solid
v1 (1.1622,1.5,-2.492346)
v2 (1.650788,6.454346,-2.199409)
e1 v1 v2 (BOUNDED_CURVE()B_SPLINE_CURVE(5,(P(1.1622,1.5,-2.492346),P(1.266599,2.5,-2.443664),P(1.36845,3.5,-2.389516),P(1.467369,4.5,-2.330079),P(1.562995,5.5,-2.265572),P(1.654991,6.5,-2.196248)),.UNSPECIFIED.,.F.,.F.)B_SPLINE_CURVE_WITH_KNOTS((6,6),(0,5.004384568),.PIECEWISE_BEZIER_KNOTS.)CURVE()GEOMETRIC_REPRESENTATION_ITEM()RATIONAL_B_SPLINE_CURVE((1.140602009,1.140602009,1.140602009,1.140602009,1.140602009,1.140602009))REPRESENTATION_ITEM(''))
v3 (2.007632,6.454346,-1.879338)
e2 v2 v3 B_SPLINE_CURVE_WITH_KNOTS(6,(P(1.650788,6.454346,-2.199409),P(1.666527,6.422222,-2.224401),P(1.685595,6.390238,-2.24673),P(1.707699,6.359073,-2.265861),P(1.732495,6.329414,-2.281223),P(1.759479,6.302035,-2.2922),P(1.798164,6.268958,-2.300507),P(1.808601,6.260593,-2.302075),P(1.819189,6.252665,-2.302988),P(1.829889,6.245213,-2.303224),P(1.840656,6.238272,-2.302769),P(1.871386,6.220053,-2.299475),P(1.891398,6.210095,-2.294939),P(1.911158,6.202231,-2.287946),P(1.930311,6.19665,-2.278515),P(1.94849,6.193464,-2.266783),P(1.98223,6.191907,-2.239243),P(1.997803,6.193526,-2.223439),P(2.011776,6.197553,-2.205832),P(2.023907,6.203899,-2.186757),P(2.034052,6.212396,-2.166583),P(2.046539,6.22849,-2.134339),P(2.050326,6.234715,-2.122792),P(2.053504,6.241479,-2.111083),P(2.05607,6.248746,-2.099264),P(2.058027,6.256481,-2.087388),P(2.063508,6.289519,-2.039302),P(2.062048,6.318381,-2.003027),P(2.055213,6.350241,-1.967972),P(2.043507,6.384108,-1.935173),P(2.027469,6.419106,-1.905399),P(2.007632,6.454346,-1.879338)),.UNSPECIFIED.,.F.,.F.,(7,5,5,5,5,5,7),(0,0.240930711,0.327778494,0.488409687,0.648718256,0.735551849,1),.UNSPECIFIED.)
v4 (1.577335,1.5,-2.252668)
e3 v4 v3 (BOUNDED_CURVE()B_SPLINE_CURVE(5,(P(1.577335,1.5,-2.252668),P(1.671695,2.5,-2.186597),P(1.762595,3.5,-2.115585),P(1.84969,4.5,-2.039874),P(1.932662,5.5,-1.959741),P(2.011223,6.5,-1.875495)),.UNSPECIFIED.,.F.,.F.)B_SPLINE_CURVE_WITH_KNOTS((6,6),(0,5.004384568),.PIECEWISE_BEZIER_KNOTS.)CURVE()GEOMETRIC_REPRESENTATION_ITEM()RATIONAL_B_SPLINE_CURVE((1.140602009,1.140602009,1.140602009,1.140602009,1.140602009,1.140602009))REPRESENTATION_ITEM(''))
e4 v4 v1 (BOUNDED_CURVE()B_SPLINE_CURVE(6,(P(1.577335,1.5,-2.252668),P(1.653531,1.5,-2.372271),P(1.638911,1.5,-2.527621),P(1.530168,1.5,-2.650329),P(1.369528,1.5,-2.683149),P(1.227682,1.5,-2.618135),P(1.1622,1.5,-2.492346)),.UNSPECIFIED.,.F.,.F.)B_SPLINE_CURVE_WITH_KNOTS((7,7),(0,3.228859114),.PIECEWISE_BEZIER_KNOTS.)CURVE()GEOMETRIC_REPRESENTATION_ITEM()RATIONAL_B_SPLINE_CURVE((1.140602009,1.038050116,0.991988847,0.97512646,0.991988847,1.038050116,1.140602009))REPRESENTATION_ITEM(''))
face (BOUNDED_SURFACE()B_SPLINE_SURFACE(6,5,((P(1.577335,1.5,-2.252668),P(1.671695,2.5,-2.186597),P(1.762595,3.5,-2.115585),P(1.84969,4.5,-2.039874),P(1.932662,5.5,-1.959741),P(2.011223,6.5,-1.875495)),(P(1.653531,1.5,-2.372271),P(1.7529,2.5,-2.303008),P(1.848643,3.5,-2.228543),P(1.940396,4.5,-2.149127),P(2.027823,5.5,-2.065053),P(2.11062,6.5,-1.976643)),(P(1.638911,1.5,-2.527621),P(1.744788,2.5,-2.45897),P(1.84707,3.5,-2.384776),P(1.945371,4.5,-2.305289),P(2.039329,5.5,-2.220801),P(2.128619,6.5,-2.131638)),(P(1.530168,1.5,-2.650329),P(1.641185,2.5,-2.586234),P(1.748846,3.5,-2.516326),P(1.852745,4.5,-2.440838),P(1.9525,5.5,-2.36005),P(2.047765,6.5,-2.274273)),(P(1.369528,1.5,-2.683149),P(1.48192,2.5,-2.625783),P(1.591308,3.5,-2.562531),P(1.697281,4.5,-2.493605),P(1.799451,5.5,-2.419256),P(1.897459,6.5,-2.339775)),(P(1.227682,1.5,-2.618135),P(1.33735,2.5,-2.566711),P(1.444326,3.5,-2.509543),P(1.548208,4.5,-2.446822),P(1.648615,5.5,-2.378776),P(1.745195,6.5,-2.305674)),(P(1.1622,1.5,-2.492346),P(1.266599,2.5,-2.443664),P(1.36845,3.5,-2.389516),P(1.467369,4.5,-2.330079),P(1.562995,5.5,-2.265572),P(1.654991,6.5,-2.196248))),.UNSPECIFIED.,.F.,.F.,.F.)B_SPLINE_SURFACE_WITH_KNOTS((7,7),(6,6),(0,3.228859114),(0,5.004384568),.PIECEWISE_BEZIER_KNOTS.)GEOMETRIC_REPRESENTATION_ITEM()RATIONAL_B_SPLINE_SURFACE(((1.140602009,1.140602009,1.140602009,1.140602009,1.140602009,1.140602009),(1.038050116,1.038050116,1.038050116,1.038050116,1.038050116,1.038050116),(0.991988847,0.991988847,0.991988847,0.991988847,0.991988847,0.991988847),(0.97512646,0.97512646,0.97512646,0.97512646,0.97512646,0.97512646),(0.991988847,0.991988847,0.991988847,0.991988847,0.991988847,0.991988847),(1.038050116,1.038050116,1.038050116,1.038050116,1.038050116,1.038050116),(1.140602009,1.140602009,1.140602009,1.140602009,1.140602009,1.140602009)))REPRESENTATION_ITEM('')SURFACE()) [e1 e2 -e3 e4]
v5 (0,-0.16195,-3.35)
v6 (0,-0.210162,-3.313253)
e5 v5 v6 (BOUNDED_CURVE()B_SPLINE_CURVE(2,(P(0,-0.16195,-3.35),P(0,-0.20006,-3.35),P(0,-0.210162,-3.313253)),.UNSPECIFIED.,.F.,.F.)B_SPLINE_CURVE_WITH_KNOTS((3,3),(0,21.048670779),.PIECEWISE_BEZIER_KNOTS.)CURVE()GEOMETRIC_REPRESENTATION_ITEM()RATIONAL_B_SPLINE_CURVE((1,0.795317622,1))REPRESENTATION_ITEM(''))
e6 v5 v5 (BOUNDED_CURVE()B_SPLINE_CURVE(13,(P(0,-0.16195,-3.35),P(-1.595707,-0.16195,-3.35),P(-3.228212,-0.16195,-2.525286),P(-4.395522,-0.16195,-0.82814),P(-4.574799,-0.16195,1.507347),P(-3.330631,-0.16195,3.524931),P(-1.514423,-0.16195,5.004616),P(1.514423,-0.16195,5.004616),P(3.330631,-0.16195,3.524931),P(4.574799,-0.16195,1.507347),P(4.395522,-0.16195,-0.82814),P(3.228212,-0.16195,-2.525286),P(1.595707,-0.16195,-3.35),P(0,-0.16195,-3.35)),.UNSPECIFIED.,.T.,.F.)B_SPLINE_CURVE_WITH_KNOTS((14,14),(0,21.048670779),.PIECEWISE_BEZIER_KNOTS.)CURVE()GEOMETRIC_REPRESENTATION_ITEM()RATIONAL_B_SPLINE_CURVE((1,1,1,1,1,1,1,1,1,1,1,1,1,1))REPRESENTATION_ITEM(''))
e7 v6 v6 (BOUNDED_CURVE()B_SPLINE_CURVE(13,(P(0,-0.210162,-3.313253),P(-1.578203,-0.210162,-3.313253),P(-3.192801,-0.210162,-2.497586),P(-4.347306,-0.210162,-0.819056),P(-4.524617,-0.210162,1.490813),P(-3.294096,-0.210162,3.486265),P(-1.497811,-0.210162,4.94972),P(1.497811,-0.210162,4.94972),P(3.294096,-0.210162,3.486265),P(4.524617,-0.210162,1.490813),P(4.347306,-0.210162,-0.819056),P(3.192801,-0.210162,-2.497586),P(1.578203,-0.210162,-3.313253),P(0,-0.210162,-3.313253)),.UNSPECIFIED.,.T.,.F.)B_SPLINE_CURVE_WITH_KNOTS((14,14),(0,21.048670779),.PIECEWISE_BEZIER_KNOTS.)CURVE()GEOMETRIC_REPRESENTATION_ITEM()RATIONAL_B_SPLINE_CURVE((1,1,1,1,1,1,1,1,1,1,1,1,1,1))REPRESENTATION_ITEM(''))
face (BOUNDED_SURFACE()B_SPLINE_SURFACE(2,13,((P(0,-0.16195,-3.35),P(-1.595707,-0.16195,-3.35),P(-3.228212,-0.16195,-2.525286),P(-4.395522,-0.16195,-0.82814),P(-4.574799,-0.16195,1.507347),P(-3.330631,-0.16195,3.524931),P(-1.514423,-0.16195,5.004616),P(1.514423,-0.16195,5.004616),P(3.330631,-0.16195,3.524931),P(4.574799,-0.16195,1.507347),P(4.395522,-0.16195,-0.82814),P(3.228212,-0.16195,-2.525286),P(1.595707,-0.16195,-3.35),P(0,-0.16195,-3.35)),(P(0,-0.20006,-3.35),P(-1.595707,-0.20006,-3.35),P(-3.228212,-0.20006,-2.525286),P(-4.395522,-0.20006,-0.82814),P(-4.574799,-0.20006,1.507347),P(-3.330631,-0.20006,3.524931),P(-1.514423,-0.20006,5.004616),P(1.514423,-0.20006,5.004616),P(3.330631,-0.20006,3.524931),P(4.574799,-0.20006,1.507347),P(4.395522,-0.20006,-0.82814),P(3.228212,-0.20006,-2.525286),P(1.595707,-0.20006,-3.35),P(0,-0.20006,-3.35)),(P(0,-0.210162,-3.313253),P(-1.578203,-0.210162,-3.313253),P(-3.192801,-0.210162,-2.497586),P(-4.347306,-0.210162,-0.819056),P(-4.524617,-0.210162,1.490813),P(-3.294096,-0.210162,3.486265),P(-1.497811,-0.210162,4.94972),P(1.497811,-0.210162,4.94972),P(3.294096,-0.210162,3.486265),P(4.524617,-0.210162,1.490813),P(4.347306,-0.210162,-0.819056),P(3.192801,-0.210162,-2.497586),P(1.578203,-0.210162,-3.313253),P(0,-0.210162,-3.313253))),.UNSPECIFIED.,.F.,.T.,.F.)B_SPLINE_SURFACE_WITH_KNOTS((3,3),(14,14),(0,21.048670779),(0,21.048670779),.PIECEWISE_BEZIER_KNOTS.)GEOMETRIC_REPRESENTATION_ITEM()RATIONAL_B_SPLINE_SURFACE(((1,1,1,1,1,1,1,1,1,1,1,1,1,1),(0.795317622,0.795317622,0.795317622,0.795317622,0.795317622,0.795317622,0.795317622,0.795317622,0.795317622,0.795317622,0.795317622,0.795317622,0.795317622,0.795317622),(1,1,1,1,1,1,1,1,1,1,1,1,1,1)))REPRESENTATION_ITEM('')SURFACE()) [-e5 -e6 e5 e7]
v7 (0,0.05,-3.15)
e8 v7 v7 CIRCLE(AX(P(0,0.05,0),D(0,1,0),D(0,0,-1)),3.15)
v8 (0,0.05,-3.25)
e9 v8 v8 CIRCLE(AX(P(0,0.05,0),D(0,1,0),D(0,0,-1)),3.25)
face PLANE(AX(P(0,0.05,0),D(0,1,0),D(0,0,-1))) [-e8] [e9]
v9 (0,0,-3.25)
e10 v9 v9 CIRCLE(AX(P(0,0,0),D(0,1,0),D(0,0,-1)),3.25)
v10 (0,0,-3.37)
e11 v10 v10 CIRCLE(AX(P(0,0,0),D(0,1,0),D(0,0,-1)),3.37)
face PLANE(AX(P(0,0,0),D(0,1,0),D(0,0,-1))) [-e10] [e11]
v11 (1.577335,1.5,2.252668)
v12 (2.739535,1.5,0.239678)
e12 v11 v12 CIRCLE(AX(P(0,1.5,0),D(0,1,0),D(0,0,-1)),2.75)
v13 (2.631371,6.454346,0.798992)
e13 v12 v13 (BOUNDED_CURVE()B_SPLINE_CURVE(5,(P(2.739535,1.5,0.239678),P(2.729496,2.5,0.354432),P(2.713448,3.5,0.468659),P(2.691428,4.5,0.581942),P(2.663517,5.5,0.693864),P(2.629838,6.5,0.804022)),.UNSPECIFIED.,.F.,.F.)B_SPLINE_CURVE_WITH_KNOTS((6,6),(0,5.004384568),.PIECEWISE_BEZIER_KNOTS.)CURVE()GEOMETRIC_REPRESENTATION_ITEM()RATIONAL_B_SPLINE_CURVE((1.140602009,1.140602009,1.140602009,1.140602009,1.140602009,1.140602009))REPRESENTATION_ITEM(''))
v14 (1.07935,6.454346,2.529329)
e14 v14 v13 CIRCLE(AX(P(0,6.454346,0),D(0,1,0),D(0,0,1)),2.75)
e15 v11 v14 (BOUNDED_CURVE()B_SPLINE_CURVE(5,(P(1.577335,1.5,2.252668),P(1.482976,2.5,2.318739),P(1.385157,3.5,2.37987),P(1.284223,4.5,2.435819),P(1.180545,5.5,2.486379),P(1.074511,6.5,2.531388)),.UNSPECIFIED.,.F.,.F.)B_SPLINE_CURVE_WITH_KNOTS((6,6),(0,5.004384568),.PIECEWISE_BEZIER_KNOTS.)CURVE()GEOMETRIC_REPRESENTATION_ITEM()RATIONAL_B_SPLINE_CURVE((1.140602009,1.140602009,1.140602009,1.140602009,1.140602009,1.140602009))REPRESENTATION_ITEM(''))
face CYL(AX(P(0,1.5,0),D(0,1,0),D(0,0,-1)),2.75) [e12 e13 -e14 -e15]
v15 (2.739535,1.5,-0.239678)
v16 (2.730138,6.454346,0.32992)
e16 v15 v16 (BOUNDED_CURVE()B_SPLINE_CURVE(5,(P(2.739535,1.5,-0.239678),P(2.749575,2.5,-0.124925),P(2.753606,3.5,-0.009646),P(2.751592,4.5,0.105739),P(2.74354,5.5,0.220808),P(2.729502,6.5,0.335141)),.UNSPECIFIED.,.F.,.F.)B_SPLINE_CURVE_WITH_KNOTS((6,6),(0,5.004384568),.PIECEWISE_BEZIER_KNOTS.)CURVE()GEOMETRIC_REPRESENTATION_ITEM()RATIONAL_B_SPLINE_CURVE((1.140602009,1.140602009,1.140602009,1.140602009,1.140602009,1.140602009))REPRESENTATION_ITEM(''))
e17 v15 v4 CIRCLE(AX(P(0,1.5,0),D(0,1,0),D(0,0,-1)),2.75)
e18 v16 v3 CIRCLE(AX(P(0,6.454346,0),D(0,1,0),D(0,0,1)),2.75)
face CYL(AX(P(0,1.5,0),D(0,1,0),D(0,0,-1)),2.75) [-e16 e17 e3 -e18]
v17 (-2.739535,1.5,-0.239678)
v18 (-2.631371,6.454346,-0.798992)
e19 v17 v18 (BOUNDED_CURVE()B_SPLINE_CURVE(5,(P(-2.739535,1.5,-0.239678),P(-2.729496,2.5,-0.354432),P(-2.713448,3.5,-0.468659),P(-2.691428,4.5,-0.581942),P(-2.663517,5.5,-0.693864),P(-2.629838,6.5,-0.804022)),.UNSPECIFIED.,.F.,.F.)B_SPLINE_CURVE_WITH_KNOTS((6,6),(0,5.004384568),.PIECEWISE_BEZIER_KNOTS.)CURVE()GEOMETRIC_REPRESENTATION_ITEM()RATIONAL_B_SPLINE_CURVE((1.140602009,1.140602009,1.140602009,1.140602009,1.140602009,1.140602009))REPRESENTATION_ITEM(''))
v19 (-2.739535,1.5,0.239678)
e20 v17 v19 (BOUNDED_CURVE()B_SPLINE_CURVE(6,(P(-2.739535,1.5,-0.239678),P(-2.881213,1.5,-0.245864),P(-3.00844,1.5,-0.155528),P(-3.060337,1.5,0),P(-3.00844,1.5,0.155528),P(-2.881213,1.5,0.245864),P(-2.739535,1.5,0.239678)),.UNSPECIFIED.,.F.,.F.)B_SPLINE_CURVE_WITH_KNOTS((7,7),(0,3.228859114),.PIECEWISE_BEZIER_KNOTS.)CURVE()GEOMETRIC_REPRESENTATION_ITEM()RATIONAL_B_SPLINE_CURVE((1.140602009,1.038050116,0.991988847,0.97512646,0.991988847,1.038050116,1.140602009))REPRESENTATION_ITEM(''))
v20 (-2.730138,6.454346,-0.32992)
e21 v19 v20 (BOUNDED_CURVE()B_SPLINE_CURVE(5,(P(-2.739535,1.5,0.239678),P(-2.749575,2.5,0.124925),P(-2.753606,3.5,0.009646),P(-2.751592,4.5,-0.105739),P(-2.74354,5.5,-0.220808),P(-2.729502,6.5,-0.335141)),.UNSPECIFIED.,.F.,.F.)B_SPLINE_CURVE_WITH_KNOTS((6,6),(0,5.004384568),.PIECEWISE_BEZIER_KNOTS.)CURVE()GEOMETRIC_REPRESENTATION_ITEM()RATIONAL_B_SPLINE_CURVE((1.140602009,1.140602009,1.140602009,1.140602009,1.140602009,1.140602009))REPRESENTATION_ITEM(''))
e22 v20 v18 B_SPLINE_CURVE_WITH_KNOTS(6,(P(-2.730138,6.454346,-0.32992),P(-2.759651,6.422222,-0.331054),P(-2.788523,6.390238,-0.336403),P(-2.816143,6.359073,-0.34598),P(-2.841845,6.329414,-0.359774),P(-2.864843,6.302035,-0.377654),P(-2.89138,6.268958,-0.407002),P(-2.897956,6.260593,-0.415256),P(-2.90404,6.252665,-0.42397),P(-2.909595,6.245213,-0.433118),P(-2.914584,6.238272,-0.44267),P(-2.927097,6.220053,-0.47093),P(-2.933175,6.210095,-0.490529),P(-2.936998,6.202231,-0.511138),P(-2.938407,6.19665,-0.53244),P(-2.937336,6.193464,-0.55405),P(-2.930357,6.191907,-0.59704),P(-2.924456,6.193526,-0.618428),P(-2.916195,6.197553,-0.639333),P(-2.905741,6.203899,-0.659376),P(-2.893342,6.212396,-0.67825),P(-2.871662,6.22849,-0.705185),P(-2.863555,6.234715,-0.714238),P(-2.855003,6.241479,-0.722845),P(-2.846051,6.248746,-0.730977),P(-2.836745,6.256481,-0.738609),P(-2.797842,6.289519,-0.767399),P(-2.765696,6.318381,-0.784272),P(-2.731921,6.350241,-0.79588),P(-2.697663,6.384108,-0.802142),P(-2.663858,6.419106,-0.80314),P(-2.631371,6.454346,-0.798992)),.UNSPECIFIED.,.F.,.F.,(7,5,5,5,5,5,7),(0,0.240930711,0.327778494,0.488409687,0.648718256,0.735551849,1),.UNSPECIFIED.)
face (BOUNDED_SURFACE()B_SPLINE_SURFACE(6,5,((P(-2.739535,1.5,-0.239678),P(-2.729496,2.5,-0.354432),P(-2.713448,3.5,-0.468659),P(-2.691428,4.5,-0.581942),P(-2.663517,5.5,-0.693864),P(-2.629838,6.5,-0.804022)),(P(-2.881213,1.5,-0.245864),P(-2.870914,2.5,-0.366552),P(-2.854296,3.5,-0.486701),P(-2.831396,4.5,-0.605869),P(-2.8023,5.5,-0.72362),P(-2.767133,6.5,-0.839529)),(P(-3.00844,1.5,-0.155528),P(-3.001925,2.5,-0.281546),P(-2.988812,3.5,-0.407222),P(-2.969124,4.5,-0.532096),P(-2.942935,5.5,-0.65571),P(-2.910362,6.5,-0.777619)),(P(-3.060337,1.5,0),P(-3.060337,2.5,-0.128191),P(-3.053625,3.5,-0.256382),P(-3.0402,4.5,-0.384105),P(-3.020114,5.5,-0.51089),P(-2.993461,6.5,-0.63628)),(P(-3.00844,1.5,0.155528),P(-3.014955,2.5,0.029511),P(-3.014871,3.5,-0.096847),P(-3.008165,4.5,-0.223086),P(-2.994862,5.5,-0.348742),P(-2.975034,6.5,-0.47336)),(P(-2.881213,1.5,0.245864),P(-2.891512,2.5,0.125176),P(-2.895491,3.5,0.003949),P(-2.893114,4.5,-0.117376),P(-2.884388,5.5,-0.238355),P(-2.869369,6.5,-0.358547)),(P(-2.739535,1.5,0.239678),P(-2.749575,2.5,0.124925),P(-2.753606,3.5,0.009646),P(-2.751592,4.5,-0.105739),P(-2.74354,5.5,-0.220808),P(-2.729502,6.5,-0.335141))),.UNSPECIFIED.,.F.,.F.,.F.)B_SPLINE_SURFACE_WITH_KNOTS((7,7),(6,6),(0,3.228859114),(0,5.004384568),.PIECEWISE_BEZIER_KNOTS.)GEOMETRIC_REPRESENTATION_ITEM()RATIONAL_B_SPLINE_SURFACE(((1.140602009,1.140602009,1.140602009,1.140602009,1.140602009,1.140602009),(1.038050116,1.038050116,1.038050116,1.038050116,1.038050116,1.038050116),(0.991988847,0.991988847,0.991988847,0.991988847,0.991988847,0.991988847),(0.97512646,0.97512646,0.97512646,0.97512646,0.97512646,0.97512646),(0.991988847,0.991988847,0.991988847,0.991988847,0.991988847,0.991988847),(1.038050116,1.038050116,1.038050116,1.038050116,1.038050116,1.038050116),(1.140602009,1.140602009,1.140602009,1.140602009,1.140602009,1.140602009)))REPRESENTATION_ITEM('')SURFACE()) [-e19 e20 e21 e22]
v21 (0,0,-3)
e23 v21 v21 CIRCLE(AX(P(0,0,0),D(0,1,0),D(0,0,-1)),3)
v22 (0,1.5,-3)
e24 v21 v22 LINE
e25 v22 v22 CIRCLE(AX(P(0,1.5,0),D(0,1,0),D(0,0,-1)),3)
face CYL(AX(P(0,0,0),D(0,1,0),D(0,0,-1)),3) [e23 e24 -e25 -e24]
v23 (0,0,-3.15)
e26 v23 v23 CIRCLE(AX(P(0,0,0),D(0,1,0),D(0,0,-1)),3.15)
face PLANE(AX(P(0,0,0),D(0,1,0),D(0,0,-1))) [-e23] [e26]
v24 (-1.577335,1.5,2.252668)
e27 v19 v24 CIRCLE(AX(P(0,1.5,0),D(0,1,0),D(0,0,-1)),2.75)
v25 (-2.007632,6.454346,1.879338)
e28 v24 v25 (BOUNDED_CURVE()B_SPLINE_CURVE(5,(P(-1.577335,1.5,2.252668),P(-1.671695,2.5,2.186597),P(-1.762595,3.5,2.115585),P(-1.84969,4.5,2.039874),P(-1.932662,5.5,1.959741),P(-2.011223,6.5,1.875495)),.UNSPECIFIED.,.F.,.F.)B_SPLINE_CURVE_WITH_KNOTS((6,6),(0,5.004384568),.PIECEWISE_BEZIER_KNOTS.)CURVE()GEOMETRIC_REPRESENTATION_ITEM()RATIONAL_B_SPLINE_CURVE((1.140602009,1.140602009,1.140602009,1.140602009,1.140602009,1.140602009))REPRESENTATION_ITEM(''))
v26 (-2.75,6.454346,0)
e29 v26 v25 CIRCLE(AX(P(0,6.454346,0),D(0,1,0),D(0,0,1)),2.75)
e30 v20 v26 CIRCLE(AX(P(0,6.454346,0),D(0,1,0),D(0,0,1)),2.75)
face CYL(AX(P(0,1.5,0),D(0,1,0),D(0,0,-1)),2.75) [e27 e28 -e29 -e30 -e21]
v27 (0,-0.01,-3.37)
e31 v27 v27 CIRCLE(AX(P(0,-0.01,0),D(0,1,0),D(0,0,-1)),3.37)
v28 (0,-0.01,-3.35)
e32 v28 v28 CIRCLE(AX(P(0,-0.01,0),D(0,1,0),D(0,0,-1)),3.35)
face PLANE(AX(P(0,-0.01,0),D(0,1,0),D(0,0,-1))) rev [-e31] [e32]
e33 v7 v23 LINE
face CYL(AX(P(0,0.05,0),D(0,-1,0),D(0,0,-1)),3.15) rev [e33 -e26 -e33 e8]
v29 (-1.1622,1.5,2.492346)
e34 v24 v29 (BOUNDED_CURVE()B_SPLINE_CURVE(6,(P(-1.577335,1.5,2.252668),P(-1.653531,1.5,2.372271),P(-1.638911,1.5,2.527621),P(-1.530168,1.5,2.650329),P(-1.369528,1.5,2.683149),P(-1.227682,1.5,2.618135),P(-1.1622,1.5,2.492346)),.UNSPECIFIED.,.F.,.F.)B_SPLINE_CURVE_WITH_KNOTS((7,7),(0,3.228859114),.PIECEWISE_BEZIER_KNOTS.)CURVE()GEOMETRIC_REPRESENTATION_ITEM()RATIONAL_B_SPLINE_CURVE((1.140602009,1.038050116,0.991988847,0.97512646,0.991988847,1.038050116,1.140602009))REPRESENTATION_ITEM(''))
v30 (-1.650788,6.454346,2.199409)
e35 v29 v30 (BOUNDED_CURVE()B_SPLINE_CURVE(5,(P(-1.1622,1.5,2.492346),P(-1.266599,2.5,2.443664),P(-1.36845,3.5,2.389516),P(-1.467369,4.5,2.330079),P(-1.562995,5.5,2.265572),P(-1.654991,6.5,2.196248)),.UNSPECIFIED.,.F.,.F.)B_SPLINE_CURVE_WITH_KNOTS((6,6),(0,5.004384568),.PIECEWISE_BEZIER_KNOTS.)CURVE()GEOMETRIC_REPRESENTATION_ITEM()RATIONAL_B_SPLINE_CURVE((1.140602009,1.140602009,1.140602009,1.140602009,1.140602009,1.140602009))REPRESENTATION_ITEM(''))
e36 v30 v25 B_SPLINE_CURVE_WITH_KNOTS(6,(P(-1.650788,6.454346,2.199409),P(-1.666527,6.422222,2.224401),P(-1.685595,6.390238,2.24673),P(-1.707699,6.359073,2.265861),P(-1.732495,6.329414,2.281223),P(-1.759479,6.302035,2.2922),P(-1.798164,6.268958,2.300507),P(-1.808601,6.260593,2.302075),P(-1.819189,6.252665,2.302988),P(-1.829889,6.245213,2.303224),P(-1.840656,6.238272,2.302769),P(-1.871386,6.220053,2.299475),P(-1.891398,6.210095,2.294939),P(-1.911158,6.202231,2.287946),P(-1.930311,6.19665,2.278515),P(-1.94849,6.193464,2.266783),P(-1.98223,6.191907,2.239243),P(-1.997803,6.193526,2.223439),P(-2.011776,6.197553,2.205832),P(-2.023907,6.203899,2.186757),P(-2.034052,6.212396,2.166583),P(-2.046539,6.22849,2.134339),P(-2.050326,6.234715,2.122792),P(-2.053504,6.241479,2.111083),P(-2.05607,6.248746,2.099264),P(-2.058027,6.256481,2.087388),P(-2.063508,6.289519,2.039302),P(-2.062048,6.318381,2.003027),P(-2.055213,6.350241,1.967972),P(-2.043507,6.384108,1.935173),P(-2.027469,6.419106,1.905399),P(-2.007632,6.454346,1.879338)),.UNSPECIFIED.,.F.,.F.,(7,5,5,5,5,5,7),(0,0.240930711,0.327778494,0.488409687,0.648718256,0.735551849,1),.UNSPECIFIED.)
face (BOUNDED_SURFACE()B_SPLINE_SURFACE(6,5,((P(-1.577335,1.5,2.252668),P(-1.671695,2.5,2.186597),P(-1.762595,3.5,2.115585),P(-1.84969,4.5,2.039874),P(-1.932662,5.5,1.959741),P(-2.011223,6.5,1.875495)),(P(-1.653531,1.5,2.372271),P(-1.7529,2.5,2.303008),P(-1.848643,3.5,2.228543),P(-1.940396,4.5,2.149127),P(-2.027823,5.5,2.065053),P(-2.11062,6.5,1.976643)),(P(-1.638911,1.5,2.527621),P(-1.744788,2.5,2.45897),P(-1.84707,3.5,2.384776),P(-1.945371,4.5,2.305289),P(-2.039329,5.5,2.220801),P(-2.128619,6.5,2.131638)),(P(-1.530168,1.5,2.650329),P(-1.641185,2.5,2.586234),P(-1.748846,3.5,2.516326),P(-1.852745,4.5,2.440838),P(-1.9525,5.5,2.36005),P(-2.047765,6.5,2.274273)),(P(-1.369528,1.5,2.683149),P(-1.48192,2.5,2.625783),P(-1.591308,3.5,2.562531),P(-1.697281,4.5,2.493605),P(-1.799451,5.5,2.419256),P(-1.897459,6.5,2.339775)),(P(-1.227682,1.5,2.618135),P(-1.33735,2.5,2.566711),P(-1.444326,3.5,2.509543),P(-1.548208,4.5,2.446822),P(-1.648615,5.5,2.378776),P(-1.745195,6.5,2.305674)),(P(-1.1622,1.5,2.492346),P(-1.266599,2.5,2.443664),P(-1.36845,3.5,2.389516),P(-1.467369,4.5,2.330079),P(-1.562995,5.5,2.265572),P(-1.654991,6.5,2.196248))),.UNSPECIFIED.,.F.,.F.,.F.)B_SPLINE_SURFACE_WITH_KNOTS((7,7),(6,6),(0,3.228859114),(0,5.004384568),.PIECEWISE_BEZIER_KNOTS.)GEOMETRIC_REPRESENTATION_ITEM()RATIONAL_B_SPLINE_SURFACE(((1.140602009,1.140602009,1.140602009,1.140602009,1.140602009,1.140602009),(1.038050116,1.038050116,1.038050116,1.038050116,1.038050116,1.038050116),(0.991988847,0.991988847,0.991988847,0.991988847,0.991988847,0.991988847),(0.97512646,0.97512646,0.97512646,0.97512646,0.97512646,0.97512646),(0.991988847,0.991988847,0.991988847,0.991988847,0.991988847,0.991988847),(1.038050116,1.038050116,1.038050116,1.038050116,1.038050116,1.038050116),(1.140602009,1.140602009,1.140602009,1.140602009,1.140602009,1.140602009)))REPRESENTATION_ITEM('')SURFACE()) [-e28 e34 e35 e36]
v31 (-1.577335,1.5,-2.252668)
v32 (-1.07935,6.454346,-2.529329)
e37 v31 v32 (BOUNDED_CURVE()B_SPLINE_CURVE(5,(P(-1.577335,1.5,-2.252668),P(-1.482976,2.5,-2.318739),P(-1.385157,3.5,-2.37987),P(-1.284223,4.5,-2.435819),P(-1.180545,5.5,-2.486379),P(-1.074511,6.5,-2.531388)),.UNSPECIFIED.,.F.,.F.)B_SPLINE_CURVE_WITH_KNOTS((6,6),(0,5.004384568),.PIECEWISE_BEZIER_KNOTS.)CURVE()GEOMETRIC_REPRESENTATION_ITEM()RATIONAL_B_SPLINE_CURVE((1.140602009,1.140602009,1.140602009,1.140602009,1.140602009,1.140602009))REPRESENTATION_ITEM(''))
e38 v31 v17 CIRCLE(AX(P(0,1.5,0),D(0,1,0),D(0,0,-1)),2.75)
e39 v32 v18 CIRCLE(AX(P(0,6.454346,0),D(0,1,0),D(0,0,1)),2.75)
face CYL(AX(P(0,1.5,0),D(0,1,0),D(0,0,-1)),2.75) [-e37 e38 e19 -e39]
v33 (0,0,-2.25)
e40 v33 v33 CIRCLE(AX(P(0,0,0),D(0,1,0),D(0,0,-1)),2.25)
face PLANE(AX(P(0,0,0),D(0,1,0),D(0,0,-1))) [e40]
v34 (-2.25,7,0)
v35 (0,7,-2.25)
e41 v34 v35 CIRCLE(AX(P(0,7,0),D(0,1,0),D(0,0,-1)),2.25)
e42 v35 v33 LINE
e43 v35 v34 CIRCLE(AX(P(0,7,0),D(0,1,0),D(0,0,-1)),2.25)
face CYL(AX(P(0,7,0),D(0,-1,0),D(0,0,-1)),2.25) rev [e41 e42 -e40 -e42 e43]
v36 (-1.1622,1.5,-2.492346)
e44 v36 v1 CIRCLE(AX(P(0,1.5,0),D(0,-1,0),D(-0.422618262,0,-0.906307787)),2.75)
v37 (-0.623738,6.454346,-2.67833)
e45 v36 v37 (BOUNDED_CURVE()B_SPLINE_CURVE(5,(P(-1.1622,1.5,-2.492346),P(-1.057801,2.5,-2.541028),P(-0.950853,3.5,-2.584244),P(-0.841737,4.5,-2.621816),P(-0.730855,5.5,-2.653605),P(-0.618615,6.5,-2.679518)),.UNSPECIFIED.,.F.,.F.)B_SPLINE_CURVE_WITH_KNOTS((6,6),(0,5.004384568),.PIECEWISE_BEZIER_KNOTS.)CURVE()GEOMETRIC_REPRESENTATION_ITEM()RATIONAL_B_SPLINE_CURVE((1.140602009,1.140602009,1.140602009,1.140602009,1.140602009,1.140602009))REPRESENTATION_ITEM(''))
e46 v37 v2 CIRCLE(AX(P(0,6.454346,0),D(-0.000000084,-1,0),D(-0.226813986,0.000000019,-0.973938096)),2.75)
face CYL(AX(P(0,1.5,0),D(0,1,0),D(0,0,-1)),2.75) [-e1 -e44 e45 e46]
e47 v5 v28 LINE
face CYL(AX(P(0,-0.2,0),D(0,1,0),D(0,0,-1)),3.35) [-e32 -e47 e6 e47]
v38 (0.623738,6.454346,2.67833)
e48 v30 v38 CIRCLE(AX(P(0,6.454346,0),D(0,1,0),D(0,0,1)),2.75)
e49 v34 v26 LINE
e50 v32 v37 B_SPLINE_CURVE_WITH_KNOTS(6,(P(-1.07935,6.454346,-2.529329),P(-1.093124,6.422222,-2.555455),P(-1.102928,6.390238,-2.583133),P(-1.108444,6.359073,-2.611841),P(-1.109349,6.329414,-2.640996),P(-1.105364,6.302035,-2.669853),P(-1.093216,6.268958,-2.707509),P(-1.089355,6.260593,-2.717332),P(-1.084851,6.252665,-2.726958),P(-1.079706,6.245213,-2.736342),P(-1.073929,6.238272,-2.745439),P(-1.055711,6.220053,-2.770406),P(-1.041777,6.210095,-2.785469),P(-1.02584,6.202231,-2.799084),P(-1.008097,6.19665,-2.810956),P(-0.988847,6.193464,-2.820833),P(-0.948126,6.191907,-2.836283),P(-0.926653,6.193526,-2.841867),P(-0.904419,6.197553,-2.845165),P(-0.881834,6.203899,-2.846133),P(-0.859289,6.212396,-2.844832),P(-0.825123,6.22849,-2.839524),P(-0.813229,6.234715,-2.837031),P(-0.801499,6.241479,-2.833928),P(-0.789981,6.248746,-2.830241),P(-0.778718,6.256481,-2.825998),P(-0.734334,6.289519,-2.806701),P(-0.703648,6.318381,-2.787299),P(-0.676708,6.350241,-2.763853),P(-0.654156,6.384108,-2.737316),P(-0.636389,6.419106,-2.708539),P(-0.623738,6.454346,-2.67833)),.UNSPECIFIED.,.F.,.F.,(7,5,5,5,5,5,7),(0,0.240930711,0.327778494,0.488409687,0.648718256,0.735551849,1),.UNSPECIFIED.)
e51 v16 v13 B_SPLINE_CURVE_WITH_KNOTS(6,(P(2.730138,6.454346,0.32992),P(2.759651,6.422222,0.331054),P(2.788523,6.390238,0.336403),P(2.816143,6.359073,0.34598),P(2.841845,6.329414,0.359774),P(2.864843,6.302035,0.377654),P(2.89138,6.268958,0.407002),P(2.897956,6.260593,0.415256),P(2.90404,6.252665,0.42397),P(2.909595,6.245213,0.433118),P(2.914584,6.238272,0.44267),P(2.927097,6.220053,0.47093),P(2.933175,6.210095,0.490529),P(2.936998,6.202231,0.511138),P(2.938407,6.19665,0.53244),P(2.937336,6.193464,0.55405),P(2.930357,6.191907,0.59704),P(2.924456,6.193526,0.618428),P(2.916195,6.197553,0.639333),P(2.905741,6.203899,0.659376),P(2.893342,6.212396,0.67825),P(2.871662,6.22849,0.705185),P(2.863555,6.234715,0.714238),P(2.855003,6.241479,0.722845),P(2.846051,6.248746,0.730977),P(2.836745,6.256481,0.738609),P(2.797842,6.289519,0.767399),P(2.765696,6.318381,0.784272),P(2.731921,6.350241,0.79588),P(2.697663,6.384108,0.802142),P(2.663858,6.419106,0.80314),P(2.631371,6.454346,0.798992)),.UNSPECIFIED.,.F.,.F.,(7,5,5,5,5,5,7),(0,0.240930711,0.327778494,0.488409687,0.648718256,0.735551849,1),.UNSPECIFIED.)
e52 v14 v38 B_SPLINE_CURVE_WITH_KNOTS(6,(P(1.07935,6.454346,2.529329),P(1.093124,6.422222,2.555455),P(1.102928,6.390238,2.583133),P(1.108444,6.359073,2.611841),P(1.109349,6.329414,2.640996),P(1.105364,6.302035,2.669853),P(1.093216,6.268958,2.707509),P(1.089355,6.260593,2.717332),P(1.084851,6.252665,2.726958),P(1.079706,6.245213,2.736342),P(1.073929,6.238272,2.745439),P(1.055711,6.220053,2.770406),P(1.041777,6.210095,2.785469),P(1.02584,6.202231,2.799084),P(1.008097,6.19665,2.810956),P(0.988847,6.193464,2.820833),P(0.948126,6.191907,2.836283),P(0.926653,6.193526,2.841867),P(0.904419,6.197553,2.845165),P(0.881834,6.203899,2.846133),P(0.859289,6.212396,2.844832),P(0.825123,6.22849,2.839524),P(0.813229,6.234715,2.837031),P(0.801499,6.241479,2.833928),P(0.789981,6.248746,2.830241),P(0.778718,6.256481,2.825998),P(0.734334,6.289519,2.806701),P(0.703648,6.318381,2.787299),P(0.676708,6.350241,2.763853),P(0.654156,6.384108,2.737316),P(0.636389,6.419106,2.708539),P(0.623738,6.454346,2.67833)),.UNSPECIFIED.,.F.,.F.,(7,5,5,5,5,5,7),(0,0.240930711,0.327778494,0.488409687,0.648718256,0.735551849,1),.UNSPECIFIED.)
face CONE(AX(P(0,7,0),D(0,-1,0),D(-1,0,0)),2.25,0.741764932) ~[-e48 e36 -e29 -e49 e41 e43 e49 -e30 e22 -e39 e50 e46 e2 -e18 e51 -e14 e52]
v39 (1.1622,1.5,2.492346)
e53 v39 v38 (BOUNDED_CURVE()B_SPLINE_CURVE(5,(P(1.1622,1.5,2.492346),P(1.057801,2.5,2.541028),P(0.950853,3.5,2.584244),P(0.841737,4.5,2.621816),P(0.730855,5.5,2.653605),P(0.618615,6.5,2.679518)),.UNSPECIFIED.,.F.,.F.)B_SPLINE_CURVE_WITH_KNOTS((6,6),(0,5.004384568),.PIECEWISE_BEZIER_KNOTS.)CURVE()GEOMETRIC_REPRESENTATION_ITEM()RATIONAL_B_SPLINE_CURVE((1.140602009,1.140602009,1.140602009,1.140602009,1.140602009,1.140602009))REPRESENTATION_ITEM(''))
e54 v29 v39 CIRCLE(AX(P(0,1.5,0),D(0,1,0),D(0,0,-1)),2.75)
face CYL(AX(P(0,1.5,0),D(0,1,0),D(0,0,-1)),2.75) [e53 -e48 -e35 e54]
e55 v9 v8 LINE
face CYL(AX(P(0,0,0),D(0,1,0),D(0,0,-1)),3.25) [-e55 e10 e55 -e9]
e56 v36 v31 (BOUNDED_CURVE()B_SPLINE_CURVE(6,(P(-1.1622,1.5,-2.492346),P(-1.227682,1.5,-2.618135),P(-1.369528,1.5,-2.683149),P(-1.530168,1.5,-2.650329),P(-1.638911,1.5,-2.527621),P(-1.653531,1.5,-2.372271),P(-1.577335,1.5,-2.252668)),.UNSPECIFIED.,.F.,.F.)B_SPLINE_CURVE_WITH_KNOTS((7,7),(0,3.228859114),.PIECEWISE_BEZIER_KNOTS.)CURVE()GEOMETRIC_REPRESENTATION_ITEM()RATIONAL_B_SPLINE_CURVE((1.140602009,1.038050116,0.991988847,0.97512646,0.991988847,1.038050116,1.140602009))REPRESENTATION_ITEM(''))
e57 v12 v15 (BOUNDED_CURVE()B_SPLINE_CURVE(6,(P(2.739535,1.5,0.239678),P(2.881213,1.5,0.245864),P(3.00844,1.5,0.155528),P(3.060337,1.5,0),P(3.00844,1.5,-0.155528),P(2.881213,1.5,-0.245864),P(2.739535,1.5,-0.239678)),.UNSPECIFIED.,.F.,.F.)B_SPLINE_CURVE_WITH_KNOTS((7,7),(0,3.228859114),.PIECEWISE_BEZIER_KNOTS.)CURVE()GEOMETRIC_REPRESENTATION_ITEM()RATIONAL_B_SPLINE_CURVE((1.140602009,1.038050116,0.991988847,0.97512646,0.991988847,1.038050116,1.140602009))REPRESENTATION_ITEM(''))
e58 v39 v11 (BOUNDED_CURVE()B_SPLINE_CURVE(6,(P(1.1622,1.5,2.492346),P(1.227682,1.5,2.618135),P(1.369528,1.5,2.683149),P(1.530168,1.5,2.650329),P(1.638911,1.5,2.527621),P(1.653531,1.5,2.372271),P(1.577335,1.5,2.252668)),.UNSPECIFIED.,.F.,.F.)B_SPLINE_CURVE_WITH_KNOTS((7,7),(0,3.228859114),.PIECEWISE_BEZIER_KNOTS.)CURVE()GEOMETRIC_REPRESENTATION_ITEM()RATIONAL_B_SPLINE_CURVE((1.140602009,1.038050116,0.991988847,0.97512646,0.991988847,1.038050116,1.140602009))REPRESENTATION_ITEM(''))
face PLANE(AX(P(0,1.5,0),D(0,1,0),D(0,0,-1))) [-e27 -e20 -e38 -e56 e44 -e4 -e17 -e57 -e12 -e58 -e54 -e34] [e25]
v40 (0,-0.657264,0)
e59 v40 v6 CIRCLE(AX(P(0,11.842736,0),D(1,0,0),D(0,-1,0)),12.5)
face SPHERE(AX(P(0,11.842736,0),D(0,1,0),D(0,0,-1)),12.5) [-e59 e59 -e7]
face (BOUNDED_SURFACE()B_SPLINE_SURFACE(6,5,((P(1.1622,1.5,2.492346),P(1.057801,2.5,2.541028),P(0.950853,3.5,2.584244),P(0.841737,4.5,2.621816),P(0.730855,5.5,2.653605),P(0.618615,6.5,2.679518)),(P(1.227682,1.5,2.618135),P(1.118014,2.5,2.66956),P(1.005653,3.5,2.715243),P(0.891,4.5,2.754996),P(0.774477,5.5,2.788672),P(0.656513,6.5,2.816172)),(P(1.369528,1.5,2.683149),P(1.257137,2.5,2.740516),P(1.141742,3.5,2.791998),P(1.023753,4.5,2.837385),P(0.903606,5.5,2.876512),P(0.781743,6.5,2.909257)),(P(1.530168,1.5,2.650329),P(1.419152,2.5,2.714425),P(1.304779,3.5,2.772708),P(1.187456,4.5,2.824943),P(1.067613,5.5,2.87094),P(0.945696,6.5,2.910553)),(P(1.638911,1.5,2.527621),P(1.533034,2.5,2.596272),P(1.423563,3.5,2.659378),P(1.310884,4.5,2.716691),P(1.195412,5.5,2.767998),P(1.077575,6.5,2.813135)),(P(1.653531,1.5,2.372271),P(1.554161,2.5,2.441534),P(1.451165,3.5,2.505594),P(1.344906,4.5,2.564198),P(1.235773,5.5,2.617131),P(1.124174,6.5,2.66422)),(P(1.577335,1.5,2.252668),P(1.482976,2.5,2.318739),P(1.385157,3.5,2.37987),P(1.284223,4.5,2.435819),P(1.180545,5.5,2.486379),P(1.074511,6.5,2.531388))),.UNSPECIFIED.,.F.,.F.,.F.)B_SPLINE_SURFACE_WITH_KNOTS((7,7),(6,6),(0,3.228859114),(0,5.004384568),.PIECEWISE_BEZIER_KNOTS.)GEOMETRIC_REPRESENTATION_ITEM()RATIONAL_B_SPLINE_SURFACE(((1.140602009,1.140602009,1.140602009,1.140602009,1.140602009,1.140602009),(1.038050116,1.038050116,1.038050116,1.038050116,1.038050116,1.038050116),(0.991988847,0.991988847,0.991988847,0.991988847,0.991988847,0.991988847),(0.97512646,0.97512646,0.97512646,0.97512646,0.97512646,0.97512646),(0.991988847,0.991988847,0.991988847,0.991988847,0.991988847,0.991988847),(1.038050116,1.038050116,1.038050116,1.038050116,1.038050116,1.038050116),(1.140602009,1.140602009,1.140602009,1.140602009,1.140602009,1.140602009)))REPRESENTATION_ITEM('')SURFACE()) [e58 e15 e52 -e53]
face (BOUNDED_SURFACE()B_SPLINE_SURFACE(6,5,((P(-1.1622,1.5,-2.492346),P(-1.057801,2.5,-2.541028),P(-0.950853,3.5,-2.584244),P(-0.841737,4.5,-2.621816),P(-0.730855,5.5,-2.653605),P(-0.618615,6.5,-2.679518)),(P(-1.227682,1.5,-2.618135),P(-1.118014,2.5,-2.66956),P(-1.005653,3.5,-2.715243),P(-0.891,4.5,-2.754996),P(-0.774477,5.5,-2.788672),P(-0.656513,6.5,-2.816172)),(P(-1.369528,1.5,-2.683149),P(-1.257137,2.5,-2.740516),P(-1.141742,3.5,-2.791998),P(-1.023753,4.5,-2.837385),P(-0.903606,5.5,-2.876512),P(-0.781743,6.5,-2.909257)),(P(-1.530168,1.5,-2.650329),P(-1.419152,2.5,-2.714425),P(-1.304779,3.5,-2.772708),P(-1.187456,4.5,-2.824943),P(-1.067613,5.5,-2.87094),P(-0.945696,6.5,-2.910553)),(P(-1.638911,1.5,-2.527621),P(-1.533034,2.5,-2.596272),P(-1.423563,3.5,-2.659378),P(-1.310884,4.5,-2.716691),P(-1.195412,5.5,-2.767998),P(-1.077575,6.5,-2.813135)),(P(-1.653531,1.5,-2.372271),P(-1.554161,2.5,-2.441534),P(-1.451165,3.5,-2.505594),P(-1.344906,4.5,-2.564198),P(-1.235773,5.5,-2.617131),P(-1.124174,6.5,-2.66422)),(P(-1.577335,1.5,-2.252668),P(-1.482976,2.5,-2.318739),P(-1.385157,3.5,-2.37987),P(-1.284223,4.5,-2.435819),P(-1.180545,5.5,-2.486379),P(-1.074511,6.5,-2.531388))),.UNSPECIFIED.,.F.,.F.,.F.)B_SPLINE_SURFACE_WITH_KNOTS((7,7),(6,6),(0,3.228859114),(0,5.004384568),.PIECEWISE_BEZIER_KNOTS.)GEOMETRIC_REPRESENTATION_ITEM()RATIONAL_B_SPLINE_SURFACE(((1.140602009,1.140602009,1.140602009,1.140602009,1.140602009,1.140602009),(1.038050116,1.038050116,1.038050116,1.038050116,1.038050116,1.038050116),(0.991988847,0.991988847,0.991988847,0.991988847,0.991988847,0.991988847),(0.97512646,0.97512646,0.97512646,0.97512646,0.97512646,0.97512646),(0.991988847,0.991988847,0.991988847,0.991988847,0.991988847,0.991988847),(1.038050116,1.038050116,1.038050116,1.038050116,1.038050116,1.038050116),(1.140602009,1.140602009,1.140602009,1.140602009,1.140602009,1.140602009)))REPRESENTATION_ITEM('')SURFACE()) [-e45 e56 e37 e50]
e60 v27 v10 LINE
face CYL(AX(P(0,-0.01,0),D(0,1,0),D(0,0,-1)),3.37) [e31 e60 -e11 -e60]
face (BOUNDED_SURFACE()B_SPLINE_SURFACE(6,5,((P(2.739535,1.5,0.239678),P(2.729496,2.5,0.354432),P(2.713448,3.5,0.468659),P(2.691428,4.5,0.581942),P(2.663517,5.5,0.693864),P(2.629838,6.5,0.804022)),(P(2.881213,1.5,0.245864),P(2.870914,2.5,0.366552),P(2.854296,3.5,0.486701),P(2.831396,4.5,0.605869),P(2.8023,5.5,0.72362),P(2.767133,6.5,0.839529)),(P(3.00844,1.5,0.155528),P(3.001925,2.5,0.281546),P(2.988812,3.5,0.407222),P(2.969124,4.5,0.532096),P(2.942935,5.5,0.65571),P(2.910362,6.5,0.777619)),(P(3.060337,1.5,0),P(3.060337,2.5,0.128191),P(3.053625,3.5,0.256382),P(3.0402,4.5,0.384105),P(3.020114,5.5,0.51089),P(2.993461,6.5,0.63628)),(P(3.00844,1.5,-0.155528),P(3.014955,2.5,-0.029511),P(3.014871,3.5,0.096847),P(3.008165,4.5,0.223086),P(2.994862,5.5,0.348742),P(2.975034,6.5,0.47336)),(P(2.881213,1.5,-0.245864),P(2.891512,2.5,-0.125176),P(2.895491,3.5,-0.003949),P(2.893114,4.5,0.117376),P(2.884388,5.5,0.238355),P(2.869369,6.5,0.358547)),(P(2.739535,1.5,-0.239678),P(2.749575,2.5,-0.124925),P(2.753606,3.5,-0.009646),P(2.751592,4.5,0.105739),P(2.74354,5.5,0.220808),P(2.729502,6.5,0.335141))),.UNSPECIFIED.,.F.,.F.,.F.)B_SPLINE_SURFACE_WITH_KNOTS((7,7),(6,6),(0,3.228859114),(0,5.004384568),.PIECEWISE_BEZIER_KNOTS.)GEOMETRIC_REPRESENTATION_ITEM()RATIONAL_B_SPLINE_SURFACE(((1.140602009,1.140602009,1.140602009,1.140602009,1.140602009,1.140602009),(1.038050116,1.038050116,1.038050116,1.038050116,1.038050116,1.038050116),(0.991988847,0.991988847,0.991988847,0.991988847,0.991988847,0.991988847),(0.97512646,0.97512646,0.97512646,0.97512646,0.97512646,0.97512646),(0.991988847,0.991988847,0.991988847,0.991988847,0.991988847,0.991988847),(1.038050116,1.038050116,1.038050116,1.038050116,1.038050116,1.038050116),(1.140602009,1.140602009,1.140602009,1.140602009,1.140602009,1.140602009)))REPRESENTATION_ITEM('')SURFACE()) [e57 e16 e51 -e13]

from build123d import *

# Parameters (mm, degrees)
BARRER1_PITCH       = 150
BARRER1_HEIGHT      = 5
BARRER1_RADIUS      = 2.75
BARRER1_START_ANGLE = 90
MATRIZC1_COUNT      = 6
REDONDEO1_R         = 0.05


with BuildPart() as part:
    # Croquis1 → Revolución1 (revolve)
    with BuildSketch(Plane.XY, mode=Mode.PRIVATE) as revoluci_n1_sk:
        with BuildLine():
            Line((2.25, 0), (0, 0))
            Line((0, 0), (0, -0.6572636))
            ThreePointArc((0, -0.6572636), (1.690531721, -0.542420139), (3.35, -0.2))
            Line((3.35, -0.2), (3.35, -0.01))
            Line((3.35, -0.01), (3.37, -0.01))
            Line((3.37, -0.01), (3.37, 0))
            Line((3.37, 0), (3.25, 0))
            Line((3.25, 0), (3.25, 0.05))
            Line((3.25, 0.05), (3.15, 0.05))
            Line((3.15, 0.05), (3.15, 0))
            Line((3.15, 0), (3, 0))
            Line((3, 0), (3, 1.5))
            Line((3, 1.5), (2.75, 1.5))
            Line((2.75, 1.5), (2.75, 7))
            Line((2.75, 7), (2.25, 7))
            Line((2.25, 7), (2.25, 0))
        make_face()
    revolve(revoluci_n1_sk.sketch.rotate(Axis((0, 0, 0), (0, 1, 0)), 90), axis=Axis((0, 0, 0), (0, 1, 0)))

    # Barrer1: sweep along a helix
    with BuildLine() as barrer1_path:
        add(Helix(BARRER1_PITCH, BARRER1_HEIGHT, BARRER1_RADIUS, center=(0, 1.5, 0), direction=(0, 1, 0), lefthand=True, mode=Mode.PRIVATE).rotate(Axis((0, 1.5, 0), (0, 1, 0)), BARRER1_START_ANGLE))
    # Croquis2 → Barrer1 (sweep)
    with BuildSketch(Plane(origin=(0, 1.5, 0), x_dir=(1, 0, 0), z_dir=(0, 1, 0))):
        with BuildLine():
            ThreePointArc((2.73953542, -0.239678293), (2.989906631, 0), (2.73953542, 0.239678293))
            ThreePointArc((2.73953542, 0.239678293), (2.75, 0), (2.73953542, -0.239678293))
        make_face()
    barrer1 = sweep(path=barrer1_path.line, is_frenet=True)

    # MatrizC1: Barrer1 ×6 about axis
    matrizc1_axis = Axis((0, 7, 0), (0, -1, 0))
    for i in range(1, MATRIZC1_COUNT):
        add(barrer1.rotate(matrizc1_axis, i * 360 / MATRIZC1_COUNT))

    # Redondeo1
    redondeo1_edges = [part.edges().sort_by_distance(p)[0] for p in [
        (0, -0.2, 3.35),
    ]]
    fillet(redondeo1_edges, radius=REDONDEO1_R)

    # Croquis7 → Cortar-Revolución1 (revolve, cut)
    with BuildSketch(Plane.XY, mode=Mode.PRIVATE) as cortar_revoluci_n1_sk:
        Polygon((2.25, 7), (3.437132412, 5.704472307), (3.437132412, 7), align=None)
    revolve(cortar_revoluci_n1_sk.sketch.rotate(Axis((0, 0, 0), (0, 1, 0)), 180), axis=Axis((0, 0, 0), (0, 1, 0)), mode=Mode.SUBTRACT)


solid = part.part
